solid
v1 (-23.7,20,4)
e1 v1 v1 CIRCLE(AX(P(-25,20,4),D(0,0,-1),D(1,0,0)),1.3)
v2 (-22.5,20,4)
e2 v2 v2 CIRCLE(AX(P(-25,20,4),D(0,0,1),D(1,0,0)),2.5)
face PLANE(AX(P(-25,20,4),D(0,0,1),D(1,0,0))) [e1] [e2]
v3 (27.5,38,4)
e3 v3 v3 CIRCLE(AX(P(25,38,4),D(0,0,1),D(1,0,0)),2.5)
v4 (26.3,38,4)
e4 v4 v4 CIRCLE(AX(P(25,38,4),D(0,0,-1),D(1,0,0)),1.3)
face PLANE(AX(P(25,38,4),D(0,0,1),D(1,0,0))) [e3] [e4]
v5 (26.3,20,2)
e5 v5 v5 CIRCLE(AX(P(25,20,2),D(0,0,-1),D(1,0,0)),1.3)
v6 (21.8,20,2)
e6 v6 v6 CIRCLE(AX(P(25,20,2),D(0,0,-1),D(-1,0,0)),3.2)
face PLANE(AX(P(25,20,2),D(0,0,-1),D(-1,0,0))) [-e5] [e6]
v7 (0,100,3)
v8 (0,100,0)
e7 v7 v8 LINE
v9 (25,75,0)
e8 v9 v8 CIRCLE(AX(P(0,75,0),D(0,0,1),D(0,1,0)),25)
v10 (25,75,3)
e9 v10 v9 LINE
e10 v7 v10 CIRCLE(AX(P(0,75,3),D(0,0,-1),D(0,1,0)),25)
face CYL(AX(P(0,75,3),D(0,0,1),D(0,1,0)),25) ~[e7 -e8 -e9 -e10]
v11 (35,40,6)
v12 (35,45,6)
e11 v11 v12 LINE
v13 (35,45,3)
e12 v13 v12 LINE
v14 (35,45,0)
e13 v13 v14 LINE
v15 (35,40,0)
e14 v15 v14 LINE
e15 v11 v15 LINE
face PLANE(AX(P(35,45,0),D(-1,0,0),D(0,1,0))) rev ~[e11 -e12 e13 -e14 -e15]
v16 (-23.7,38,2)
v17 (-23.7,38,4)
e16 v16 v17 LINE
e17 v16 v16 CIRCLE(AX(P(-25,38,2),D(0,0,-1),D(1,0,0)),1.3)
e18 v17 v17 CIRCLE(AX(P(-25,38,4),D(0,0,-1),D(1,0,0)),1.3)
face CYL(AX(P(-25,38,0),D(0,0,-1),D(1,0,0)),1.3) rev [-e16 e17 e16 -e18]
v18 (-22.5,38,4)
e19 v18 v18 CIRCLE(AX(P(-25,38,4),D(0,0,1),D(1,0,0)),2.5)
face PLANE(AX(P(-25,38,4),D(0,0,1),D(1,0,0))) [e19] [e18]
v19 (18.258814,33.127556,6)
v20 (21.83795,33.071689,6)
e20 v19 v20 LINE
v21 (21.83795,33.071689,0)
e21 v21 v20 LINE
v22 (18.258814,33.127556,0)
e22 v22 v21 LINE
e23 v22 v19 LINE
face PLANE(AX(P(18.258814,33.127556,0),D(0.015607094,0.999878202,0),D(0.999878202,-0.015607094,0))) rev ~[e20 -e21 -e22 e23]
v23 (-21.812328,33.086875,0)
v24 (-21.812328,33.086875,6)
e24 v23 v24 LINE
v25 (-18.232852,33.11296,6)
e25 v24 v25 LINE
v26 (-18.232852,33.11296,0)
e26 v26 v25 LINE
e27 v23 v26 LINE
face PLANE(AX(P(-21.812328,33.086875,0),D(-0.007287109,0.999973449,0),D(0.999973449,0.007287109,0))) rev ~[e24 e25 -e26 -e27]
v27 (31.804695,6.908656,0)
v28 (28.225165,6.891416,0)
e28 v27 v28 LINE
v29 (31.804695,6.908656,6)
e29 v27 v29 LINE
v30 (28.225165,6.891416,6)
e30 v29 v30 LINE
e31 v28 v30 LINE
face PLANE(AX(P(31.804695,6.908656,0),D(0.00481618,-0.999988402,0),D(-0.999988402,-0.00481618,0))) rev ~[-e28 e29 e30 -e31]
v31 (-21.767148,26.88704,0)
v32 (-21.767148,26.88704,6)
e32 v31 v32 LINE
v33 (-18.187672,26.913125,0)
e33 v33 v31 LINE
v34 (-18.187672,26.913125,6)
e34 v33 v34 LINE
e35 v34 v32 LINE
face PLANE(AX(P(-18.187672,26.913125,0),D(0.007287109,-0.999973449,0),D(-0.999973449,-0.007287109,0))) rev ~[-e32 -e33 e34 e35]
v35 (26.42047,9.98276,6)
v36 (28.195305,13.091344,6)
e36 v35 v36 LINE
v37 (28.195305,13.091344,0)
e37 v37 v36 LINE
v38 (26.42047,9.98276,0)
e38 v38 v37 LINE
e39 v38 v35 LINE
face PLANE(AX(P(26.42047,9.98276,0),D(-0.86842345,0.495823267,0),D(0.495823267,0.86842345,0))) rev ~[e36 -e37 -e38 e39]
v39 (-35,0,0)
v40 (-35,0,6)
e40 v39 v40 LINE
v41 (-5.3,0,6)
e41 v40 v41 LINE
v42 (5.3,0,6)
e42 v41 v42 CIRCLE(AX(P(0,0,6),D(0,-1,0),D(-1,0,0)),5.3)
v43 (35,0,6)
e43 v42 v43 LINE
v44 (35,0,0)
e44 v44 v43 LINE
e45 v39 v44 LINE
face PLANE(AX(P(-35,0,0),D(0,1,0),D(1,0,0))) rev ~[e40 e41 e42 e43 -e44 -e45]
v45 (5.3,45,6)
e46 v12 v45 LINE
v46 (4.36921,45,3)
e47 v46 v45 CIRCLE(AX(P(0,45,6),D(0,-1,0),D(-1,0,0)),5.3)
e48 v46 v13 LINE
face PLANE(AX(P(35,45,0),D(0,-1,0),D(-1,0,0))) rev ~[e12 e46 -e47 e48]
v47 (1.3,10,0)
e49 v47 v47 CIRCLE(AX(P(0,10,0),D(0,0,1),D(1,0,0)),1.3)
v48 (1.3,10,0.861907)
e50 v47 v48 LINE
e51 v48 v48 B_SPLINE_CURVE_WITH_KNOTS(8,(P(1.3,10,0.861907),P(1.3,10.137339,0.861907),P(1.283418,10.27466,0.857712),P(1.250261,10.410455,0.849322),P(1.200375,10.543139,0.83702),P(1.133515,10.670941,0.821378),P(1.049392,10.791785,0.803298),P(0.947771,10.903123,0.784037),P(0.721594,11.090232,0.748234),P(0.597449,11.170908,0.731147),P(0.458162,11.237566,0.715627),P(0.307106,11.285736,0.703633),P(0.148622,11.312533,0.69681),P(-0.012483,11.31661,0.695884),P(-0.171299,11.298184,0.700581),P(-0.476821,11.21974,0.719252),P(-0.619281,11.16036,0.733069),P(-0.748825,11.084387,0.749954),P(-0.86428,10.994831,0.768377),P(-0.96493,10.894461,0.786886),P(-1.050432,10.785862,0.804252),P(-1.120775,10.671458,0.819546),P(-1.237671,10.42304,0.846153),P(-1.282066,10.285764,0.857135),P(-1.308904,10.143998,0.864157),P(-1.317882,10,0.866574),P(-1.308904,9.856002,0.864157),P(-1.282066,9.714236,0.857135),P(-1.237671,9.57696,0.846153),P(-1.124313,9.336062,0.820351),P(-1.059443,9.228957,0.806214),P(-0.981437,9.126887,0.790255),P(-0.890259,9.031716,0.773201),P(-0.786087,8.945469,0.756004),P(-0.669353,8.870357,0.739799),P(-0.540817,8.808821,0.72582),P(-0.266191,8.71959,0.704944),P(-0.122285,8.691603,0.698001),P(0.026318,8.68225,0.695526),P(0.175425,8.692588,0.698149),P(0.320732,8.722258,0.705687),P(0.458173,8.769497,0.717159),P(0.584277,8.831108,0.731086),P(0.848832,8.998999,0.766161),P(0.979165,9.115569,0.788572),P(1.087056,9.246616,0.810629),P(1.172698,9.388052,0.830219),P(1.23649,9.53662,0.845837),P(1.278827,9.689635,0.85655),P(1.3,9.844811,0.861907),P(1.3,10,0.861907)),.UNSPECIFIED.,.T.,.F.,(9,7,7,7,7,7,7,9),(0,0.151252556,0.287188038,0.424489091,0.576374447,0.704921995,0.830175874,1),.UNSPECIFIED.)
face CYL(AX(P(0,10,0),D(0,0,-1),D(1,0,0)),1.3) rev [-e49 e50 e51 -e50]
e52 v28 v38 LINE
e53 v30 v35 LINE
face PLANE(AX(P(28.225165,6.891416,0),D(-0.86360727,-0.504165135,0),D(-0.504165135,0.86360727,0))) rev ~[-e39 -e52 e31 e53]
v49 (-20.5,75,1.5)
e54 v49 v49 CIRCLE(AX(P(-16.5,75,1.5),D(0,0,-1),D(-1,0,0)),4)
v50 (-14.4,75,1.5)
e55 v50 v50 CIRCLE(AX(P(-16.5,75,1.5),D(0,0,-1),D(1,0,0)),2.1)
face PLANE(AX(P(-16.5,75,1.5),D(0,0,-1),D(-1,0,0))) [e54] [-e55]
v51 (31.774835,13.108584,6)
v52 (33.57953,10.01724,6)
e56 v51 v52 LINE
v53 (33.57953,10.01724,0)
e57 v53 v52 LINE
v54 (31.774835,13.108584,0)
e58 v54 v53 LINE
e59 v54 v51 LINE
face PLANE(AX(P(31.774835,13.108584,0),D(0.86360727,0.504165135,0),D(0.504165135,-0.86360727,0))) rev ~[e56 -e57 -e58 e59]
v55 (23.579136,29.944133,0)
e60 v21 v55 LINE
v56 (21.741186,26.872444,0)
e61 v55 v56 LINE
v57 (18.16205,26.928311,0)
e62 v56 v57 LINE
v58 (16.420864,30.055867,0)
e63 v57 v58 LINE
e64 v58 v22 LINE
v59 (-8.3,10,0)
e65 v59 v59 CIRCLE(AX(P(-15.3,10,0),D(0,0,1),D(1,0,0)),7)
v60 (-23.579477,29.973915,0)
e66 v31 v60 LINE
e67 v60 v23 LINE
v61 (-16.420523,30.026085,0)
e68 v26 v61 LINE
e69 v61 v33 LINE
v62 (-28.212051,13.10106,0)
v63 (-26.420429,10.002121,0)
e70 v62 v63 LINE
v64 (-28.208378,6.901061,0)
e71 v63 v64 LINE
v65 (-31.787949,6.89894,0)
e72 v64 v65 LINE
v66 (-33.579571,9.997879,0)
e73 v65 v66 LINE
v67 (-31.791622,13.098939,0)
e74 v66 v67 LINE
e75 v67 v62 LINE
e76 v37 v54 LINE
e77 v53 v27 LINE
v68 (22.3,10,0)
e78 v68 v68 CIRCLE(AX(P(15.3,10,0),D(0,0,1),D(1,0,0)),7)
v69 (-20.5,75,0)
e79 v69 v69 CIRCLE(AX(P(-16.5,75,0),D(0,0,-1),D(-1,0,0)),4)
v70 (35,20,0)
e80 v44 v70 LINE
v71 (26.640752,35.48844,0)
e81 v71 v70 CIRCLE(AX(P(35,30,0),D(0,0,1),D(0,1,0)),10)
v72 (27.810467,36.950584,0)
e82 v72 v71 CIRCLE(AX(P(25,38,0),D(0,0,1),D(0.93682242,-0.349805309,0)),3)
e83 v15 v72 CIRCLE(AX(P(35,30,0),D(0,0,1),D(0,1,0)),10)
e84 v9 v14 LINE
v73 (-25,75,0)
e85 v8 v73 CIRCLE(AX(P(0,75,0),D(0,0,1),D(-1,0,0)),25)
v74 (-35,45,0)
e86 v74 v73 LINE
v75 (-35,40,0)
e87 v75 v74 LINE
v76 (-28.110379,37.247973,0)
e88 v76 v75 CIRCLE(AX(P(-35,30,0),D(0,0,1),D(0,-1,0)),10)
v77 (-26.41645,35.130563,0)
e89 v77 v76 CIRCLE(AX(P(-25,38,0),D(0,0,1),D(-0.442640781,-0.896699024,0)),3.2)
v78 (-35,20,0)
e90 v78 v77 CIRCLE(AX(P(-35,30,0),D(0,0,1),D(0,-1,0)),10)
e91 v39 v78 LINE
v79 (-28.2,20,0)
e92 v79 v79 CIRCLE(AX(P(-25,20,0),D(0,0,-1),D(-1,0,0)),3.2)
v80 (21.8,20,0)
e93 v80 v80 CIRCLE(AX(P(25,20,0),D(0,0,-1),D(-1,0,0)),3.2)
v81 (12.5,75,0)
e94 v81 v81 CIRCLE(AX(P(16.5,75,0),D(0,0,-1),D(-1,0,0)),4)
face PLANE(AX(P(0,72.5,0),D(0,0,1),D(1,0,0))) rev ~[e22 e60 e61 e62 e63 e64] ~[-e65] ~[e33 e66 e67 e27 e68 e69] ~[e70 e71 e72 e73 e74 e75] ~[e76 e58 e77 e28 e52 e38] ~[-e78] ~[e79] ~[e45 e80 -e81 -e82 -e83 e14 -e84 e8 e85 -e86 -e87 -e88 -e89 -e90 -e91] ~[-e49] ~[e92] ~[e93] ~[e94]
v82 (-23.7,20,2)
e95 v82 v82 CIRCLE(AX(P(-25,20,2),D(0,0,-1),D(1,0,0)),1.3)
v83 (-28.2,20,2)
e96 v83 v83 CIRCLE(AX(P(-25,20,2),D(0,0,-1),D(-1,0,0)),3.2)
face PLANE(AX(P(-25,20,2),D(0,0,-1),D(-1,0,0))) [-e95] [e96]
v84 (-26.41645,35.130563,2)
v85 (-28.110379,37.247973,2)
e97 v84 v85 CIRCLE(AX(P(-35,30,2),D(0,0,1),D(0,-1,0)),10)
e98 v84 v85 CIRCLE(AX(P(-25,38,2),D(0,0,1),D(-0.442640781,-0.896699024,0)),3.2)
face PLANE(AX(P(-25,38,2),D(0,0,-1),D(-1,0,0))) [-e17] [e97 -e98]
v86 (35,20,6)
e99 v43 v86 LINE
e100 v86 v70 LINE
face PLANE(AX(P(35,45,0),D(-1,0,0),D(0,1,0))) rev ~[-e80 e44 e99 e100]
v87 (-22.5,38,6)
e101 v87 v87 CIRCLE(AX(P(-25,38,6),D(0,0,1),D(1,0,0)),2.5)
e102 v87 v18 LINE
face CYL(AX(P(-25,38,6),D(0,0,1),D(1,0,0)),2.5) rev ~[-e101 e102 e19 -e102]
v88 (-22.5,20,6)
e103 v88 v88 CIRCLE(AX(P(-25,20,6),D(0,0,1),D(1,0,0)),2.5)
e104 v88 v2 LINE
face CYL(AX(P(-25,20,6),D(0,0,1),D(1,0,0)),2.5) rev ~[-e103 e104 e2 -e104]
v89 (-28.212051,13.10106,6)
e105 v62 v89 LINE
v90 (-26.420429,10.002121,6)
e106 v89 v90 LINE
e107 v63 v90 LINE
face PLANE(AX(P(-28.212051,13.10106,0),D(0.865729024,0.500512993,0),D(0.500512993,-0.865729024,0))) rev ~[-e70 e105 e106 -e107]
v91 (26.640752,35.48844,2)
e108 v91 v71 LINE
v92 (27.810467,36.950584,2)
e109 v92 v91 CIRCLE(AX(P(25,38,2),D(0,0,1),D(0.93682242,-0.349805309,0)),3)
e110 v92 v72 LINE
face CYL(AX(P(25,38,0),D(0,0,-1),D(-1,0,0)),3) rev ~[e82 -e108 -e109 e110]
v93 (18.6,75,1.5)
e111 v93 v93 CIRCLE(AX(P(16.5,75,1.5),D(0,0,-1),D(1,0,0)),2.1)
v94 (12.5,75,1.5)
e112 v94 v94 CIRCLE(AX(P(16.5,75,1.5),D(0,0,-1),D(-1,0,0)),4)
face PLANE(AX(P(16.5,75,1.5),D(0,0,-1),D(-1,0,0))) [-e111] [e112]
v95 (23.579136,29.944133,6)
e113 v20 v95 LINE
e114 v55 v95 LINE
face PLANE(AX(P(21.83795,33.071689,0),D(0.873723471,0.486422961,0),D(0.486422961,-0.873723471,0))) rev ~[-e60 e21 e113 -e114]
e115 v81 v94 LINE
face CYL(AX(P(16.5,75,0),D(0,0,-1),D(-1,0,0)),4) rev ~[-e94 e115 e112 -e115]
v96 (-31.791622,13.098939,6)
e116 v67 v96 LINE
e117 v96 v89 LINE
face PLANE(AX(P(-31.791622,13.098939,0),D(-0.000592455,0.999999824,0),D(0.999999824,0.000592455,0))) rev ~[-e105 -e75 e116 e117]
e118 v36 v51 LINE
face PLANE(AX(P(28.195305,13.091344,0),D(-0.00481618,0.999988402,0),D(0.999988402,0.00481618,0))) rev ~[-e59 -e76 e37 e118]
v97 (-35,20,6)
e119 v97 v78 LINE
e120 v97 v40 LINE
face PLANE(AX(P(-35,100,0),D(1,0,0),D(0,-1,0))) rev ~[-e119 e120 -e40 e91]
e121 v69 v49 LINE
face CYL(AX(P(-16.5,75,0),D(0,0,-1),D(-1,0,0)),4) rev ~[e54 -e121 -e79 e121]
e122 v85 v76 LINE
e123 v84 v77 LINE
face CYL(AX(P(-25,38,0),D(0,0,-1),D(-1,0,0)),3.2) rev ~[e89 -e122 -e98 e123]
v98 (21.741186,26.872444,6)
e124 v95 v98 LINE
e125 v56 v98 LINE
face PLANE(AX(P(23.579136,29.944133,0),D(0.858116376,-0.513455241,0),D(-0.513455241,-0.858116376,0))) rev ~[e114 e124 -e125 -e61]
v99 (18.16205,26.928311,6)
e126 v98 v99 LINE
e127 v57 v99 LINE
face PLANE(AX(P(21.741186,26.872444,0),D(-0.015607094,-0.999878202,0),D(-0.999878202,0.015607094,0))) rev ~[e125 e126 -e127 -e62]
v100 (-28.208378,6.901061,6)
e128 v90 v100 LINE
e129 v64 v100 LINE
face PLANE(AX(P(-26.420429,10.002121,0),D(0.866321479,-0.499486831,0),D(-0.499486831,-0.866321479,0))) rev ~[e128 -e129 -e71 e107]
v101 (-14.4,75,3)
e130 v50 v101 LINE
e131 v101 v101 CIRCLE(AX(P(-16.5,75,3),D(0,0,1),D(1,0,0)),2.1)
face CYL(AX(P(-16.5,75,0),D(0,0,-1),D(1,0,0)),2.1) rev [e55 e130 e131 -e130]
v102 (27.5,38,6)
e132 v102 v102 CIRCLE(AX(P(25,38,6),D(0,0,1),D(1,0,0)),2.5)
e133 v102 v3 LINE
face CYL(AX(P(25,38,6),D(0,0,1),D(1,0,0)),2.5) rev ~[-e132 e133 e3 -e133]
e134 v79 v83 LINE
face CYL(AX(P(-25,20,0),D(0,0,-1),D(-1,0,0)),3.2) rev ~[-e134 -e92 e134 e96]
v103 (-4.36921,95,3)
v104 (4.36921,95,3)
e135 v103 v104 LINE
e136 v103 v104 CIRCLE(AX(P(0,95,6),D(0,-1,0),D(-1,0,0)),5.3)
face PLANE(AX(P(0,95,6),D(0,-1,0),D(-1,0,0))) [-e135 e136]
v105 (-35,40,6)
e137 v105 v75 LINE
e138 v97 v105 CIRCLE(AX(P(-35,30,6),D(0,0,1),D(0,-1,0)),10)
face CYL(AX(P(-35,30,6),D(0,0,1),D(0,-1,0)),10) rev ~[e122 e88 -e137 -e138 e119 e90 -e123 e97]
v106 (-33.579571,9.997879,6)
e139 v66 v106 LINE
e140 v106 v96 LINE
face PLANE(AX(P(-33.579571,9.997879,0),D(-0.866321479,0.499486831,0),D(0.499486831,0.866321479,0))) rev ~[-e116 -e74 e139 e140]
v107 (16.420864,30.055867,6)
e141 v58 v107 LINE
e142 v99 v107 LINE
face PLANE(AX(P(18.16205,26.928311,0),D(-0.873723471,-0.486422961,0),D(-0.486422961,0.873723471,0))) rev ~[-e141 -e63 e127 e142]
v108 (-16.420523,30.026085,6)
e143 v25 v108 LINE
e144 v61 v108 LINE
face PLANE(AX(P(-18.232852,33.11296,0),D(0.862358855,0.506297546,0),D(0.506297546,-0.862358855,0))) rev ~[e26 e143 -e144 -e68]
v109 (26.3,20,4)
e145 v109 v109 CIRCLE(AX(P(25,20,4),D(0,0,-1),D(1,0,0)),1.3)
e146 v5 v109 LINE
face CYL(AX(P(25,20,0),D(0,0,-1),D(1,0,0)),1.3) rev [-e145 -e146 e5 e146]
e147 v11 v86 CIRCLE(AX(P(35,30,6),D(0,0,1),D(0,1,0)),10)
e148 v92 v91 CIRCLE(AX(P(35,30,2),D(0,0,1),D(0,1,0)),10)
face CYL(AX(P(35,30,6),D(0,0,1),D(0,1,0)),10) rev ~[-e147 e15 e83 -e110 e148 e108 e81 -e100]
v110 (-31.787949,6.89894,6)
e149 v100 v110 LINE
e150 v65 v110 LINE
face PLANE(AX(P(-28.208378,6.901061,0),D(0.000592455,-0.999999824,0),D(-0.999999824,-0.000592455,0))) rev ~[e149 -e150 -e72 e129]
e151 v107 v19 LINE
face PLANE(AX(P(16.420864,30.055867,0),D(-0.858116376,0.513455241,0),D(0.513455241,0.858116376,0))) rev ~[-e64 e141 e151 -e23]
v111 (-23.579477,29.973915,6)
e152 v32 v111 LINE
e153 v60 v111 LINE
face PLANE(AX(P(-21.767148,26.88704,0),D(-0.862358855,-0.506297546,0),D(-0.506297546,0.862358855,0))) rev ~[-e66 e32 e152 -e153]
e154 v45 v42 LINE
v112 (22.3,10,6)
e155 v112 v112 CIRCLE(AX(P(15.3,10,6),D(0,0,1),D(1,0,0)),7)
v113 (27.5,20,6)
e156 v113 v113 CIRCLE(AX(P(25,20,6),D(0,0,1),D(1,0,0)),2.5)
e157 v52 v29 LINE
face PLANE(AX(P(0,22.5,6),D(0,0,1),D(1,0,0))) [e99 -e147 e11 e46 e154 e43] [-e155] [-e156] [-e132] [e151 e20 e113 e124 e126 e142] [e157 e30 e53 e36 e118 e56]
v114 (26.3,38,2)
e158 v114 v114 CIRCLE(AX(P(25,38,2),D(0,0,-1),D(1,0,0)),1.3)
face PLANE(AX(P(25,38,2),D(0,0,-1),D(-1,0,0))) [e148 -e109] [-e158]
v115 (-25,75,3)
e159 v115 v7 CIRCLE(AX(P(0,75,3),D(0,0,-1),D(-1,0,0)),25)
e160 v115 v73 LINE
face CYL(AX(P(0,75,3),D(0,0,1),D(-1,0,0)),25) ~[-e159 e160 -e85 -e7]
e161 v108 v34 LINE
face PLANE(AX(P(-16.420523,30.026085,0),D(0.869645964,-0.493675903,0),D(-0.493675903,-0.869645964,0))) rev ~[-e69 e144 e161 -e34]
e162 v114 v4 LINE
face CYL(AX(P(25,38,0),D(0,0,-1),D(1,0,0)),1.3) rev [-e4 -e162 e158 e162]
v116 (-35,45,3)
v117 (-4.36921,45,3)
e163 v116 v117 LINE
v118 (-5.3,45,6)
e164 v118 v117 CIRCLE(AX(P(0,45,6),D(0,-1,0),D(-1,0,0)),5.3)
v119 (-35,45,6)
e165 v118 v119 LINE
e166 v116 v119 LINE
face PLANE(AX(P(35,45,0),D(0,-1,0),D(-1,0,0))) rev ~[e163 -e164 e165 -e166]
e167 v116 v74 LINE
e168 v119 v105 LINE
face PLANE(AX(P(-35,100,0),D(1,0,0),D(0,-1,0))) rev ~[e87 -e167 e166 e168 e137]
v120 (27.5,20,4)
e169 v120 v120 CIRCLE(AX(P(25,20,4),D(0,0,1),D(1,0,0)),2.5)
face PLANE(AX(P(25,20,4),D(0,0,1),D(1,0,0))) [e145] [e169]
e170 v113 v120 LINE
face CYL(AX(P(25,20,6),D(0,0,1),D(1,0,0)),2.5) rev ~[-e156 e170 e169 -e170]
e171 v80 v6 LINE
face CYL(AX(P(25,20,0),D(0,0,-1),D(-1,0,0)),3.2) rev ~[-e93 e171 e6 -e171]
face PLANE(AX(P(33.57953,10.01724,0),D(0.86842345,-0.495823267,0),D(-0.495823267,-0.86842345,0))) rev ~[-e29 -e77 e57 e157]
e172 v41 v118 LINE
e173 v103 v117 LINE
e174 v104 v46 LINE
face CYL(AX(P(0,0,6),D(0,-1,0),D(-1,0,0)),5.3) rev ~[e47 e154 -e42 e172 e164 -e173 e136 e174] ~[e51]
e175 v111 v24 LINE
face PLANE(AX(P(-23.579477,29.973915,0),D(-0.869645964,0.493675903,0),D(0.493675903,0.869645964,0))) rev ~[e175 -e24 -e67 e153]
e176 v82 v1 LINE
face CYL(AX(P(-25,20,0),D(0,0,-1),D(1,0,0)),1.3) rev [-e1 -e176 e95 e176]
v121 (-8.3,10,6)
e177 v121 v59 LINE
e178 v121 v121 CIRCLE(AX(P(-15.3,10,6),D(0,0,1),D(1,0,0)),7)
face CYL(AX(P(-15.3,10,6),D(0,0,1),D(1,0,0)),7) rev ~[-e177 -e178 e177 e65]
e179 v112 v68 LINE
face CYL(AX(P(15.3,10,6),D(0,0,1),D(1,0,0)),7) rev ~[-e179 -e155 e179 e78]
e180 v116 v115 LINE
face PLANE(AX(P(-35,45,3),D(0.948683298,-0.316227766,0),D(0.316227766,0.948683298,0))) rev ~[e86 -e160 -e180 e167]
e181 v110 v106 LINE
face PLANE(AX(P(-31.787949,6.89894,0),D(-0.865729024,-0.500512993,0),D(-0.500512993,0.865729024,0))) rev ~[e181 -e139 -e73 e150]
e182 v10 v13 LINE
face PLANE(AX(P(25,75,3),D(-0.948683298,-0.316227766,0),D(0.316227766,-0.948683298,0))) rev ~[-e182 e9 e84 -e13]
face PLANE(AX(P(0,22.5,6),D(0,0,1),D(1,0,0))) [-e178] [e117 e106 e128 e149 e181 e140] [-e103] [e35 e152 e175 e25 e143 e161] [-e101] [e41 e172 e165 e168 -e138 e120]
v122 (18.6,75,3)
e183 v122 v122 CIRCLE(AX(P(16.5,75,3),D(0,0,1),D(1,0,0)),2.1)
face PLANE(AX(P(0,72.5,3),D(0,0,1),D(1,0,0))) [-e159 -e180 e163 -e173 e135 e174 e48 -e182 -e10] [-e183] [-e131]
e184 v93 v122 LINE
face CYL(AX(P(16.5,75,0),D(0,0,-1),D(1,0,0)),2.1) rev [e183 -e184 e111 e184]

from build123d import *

# Parameters (mm, degrees)
SKETCH_1_R           = 1.3
EXTRUDE_1_DEPTH      = 6
SKETCH_1_3_R         = 2.1
EXTRUDE_2_DEPTH      = 3
SKETCH_3_R           = 5.3
CUT_EXTRUDE_1_DEPTH  = 95
SKETCH_6_R           = 3.2
SKETCH_6_R_2         = 3
CUT_EXTRUDE_3_DEPTH  = 2
SKETCH_9_R           = 4
CUT_EXTRUDE_6_DEPTH  = 1.5
CUT_EXTRUDE_7_DEPTH  = 106.990565621
CUT_EXTRUDE_8_DEPTH  = 107.117859012
SKETCH_12_R          = 7
CUT_EXTRUDE_9_DEPTH  = 107.117859012
SKETCH_13_R          = 2.5
CUT_EXTRUDE_11_DEPTH = 2


with BuildPart() as part:
    # 草图1 → 凸台-拉伸1 (new body)
    with BuildSketch(Plane.XY):
        Polygon((-35, 0), (0, 0), (35, 0), (35, 45), (0, 45), (-35, 45), align=None)
        Polygon((-26.420428959, 10.002120735), (-28.208377869, 6.901060912), (-31.78794891, 6.898940176), (-33.579571041, 9.997879265), (-31.791622131, 13.098939088), (-28.21205109, 13.101059824), align=None, mode=Mode.SUBTRACT)
        with Locations((-25, 20)):
            Circle(SKETCH_1_R, mode=Mode.SUBTRACT)
        Polygon((-16.420523373, 30.026084728), (-18.187671649, 26.913124673), (-21.767148276, 26.887039945), (-23.579476627, 29.973915272), (-21.812328351, 33.086875327), (-18.232851724, 33.112960055), align=None, mode=Mode.SUBTRACT)
        with Locations((-25, 38)):
            Circle(SKETCH_1_R, mode=Mode.SUBTRACT)
        with Locations((0, 10)):
            Circle(SKETCH_1_R, mode=Mode.SUBTRACT)
        Polygon((33.579530154, 10.017239862), (31.804695235, 6.908655884), (28.225165081, 6.891416023), (26.420469846, 9.982760138), (28.195304765, 13.091344116), (31.774834919, 13.108583977), align=None, mode=Mode.SUBTRACT)
        with Locations((25, 20)):
            Circle(SKETCH_1_R, mode=Mode.SUBTRACT)
        Polygon((23.579135684, 29.944133288), (21.74118585, 26.872444218), (18.162050166, 26.92831093), (16.420864316, 30.055866712), (18.25881415, 33.127555782), (21.837949834, 33.07168907), align=None, mode=Mode.SUBTRACT)
        with Locations((25, 38)):
            Circle(SKETCH_1_R, mode=Mode.SUBTRACT)
    extrude(amount=EXTRUDE_1_DEPTH)

    # 草图1<3> → 凸台-拉伸2 (add)
    with BuildSketch(Plane.XY):
        Polygon((0, 45), (35, 45), (35, 100), (-35, 100), (-35, 45), align=None)
        with Locations((-16.5, 75)):
            Circle(SKETCH_1_3_R, mode=Mode.SUBTRACT)
        with Locations((16.5, 75)):
            Circle(SKETCH_1_3_R, mode=Mode.SUBTRACT)
    extrude(amount=EXTRUDE_2_DEPTH)

    # 草图3 → 切除-拉伸1 (cut)
    with BuildSketch(Plane(origin=(0, 0, 0), x_dir=(-1, 0, 0), z_dir=(0, -1, 0))):
        with Locations((0, -6)):
            Circle(SKETCH_3_R)
    extrude(amount=-CUT_EXTRUDE_1_DEPTH, mode=Mode.SUBTRACT)

    # 草图6 → 切除-拉伸3 (cut)
    with BuildSketch(Plane(origin=(0, 0, 0), x_dir=(-1, 0, 0), z_dir=(0, 0, -1))):
        with Locations((25, 38)):
            Circle(SKETCH_6_R)
        with Locations((25, 20)):
            Circle(SKETCH_6_R)
        with Locations((-25, 20)):
            Circle(SKETCH_6_R)
        with Locations((-25, 38)):
            Circle(SKETCH_6_R_2)
    extrude(amount=-CUT_EXTRUDE_3_DEPTH, mode=Mode.SUBTRACT)

    # 草图9 → 切除-拉伸6 (cut)
    with BuildSketch(Plane(origin=(0, 0, 0), x_dir=(-1, 0, 0), z_dir=(0, 0, -1))):
        with Locations((-16.5, 75)):
            Circle(SKETCH_9_R)
        with Locations((16.5, 75)):
            Circle(SKETCH_9_R)
    extrude(amount=-CUT_EXTRUDE_6_DEPTH, mode=Mode.SUBTRACT)

    # 草图10 → 切除-拉伸7 (cut, through all)
    with BuildSketch(Plane.XY.offset(3)):
        with BuildLine():
            Line((35, 100), (0, 100))
            ThreePointArc((0, 100), (17.67766953, 92.67766953), (25, 75))
            Line((25, 75), (35, 45))
            Line((35, 45), (35, 100))
        make_face()
        with BuildLine():
            Line((-35, 45), (-25, 75))
            ThreePointArc((-25, 75), (-17.67766953, 92.67766953), (0, 100))
            Line((0, 100), (-35, 100))
            Line((-35, 100), (-35, 45))
        make_face()
    extrude(amount=-CUT_EXTRUDE_7_DEPTH, mode=Mode.SUBTRACT)

    # 草图11 → 切除-拉伸8 (cut, through all)
    with BuildSketch(Plane.XY.offset(6)):
        with BuildLine():
            ThreePointArc((-35, 20), (-25, 30), (-35, 40))
            Line((-35, 40), (-35, 20))
        make_face()
        with BuildLine():
            Line((35, 20), (35, 40))
            ThreePointArc((35, 40), (25, 30), (35, 20))
        make_face()
    extrude(amount=-CUT_EXTRUDE_8_DEPTH, mode=Mode.SUBTRACT)

    # 草图12 → 切除-拉伸9 (cut, through all)
    with BuildSketch(Plane.XY.offset(6)):
        with Locations((-15.3, 10)):
            Circle(SKETCH_12_R)
        with Locations((15.3, 10)):
            Circle(SKETCH_12_R)
    extrude(amount=-CUT_EXTRUDE_9_DEPTH, mode=Mode.SUBTRACT)

    # 草图13 → 切除-拉伸11 (cut)
    with BuildSketch(Plane.XY.offset(6)):
        with Locations((-25, 20)):
            Circle(SKETCH_13_R)
        with Locations((25, 20)):
            Circle(SKETCH_13_R)
        with Locations((25, 38)):
            Circle(SKETCH_13_R)
        with Locations((-25, 38)):
            Circle(SKETCH_13_R)
    extrude(amount=-CUT_EXTRUDE_11_DEPTH, mode=Mode.SUBTRACT)


solid = part.part
